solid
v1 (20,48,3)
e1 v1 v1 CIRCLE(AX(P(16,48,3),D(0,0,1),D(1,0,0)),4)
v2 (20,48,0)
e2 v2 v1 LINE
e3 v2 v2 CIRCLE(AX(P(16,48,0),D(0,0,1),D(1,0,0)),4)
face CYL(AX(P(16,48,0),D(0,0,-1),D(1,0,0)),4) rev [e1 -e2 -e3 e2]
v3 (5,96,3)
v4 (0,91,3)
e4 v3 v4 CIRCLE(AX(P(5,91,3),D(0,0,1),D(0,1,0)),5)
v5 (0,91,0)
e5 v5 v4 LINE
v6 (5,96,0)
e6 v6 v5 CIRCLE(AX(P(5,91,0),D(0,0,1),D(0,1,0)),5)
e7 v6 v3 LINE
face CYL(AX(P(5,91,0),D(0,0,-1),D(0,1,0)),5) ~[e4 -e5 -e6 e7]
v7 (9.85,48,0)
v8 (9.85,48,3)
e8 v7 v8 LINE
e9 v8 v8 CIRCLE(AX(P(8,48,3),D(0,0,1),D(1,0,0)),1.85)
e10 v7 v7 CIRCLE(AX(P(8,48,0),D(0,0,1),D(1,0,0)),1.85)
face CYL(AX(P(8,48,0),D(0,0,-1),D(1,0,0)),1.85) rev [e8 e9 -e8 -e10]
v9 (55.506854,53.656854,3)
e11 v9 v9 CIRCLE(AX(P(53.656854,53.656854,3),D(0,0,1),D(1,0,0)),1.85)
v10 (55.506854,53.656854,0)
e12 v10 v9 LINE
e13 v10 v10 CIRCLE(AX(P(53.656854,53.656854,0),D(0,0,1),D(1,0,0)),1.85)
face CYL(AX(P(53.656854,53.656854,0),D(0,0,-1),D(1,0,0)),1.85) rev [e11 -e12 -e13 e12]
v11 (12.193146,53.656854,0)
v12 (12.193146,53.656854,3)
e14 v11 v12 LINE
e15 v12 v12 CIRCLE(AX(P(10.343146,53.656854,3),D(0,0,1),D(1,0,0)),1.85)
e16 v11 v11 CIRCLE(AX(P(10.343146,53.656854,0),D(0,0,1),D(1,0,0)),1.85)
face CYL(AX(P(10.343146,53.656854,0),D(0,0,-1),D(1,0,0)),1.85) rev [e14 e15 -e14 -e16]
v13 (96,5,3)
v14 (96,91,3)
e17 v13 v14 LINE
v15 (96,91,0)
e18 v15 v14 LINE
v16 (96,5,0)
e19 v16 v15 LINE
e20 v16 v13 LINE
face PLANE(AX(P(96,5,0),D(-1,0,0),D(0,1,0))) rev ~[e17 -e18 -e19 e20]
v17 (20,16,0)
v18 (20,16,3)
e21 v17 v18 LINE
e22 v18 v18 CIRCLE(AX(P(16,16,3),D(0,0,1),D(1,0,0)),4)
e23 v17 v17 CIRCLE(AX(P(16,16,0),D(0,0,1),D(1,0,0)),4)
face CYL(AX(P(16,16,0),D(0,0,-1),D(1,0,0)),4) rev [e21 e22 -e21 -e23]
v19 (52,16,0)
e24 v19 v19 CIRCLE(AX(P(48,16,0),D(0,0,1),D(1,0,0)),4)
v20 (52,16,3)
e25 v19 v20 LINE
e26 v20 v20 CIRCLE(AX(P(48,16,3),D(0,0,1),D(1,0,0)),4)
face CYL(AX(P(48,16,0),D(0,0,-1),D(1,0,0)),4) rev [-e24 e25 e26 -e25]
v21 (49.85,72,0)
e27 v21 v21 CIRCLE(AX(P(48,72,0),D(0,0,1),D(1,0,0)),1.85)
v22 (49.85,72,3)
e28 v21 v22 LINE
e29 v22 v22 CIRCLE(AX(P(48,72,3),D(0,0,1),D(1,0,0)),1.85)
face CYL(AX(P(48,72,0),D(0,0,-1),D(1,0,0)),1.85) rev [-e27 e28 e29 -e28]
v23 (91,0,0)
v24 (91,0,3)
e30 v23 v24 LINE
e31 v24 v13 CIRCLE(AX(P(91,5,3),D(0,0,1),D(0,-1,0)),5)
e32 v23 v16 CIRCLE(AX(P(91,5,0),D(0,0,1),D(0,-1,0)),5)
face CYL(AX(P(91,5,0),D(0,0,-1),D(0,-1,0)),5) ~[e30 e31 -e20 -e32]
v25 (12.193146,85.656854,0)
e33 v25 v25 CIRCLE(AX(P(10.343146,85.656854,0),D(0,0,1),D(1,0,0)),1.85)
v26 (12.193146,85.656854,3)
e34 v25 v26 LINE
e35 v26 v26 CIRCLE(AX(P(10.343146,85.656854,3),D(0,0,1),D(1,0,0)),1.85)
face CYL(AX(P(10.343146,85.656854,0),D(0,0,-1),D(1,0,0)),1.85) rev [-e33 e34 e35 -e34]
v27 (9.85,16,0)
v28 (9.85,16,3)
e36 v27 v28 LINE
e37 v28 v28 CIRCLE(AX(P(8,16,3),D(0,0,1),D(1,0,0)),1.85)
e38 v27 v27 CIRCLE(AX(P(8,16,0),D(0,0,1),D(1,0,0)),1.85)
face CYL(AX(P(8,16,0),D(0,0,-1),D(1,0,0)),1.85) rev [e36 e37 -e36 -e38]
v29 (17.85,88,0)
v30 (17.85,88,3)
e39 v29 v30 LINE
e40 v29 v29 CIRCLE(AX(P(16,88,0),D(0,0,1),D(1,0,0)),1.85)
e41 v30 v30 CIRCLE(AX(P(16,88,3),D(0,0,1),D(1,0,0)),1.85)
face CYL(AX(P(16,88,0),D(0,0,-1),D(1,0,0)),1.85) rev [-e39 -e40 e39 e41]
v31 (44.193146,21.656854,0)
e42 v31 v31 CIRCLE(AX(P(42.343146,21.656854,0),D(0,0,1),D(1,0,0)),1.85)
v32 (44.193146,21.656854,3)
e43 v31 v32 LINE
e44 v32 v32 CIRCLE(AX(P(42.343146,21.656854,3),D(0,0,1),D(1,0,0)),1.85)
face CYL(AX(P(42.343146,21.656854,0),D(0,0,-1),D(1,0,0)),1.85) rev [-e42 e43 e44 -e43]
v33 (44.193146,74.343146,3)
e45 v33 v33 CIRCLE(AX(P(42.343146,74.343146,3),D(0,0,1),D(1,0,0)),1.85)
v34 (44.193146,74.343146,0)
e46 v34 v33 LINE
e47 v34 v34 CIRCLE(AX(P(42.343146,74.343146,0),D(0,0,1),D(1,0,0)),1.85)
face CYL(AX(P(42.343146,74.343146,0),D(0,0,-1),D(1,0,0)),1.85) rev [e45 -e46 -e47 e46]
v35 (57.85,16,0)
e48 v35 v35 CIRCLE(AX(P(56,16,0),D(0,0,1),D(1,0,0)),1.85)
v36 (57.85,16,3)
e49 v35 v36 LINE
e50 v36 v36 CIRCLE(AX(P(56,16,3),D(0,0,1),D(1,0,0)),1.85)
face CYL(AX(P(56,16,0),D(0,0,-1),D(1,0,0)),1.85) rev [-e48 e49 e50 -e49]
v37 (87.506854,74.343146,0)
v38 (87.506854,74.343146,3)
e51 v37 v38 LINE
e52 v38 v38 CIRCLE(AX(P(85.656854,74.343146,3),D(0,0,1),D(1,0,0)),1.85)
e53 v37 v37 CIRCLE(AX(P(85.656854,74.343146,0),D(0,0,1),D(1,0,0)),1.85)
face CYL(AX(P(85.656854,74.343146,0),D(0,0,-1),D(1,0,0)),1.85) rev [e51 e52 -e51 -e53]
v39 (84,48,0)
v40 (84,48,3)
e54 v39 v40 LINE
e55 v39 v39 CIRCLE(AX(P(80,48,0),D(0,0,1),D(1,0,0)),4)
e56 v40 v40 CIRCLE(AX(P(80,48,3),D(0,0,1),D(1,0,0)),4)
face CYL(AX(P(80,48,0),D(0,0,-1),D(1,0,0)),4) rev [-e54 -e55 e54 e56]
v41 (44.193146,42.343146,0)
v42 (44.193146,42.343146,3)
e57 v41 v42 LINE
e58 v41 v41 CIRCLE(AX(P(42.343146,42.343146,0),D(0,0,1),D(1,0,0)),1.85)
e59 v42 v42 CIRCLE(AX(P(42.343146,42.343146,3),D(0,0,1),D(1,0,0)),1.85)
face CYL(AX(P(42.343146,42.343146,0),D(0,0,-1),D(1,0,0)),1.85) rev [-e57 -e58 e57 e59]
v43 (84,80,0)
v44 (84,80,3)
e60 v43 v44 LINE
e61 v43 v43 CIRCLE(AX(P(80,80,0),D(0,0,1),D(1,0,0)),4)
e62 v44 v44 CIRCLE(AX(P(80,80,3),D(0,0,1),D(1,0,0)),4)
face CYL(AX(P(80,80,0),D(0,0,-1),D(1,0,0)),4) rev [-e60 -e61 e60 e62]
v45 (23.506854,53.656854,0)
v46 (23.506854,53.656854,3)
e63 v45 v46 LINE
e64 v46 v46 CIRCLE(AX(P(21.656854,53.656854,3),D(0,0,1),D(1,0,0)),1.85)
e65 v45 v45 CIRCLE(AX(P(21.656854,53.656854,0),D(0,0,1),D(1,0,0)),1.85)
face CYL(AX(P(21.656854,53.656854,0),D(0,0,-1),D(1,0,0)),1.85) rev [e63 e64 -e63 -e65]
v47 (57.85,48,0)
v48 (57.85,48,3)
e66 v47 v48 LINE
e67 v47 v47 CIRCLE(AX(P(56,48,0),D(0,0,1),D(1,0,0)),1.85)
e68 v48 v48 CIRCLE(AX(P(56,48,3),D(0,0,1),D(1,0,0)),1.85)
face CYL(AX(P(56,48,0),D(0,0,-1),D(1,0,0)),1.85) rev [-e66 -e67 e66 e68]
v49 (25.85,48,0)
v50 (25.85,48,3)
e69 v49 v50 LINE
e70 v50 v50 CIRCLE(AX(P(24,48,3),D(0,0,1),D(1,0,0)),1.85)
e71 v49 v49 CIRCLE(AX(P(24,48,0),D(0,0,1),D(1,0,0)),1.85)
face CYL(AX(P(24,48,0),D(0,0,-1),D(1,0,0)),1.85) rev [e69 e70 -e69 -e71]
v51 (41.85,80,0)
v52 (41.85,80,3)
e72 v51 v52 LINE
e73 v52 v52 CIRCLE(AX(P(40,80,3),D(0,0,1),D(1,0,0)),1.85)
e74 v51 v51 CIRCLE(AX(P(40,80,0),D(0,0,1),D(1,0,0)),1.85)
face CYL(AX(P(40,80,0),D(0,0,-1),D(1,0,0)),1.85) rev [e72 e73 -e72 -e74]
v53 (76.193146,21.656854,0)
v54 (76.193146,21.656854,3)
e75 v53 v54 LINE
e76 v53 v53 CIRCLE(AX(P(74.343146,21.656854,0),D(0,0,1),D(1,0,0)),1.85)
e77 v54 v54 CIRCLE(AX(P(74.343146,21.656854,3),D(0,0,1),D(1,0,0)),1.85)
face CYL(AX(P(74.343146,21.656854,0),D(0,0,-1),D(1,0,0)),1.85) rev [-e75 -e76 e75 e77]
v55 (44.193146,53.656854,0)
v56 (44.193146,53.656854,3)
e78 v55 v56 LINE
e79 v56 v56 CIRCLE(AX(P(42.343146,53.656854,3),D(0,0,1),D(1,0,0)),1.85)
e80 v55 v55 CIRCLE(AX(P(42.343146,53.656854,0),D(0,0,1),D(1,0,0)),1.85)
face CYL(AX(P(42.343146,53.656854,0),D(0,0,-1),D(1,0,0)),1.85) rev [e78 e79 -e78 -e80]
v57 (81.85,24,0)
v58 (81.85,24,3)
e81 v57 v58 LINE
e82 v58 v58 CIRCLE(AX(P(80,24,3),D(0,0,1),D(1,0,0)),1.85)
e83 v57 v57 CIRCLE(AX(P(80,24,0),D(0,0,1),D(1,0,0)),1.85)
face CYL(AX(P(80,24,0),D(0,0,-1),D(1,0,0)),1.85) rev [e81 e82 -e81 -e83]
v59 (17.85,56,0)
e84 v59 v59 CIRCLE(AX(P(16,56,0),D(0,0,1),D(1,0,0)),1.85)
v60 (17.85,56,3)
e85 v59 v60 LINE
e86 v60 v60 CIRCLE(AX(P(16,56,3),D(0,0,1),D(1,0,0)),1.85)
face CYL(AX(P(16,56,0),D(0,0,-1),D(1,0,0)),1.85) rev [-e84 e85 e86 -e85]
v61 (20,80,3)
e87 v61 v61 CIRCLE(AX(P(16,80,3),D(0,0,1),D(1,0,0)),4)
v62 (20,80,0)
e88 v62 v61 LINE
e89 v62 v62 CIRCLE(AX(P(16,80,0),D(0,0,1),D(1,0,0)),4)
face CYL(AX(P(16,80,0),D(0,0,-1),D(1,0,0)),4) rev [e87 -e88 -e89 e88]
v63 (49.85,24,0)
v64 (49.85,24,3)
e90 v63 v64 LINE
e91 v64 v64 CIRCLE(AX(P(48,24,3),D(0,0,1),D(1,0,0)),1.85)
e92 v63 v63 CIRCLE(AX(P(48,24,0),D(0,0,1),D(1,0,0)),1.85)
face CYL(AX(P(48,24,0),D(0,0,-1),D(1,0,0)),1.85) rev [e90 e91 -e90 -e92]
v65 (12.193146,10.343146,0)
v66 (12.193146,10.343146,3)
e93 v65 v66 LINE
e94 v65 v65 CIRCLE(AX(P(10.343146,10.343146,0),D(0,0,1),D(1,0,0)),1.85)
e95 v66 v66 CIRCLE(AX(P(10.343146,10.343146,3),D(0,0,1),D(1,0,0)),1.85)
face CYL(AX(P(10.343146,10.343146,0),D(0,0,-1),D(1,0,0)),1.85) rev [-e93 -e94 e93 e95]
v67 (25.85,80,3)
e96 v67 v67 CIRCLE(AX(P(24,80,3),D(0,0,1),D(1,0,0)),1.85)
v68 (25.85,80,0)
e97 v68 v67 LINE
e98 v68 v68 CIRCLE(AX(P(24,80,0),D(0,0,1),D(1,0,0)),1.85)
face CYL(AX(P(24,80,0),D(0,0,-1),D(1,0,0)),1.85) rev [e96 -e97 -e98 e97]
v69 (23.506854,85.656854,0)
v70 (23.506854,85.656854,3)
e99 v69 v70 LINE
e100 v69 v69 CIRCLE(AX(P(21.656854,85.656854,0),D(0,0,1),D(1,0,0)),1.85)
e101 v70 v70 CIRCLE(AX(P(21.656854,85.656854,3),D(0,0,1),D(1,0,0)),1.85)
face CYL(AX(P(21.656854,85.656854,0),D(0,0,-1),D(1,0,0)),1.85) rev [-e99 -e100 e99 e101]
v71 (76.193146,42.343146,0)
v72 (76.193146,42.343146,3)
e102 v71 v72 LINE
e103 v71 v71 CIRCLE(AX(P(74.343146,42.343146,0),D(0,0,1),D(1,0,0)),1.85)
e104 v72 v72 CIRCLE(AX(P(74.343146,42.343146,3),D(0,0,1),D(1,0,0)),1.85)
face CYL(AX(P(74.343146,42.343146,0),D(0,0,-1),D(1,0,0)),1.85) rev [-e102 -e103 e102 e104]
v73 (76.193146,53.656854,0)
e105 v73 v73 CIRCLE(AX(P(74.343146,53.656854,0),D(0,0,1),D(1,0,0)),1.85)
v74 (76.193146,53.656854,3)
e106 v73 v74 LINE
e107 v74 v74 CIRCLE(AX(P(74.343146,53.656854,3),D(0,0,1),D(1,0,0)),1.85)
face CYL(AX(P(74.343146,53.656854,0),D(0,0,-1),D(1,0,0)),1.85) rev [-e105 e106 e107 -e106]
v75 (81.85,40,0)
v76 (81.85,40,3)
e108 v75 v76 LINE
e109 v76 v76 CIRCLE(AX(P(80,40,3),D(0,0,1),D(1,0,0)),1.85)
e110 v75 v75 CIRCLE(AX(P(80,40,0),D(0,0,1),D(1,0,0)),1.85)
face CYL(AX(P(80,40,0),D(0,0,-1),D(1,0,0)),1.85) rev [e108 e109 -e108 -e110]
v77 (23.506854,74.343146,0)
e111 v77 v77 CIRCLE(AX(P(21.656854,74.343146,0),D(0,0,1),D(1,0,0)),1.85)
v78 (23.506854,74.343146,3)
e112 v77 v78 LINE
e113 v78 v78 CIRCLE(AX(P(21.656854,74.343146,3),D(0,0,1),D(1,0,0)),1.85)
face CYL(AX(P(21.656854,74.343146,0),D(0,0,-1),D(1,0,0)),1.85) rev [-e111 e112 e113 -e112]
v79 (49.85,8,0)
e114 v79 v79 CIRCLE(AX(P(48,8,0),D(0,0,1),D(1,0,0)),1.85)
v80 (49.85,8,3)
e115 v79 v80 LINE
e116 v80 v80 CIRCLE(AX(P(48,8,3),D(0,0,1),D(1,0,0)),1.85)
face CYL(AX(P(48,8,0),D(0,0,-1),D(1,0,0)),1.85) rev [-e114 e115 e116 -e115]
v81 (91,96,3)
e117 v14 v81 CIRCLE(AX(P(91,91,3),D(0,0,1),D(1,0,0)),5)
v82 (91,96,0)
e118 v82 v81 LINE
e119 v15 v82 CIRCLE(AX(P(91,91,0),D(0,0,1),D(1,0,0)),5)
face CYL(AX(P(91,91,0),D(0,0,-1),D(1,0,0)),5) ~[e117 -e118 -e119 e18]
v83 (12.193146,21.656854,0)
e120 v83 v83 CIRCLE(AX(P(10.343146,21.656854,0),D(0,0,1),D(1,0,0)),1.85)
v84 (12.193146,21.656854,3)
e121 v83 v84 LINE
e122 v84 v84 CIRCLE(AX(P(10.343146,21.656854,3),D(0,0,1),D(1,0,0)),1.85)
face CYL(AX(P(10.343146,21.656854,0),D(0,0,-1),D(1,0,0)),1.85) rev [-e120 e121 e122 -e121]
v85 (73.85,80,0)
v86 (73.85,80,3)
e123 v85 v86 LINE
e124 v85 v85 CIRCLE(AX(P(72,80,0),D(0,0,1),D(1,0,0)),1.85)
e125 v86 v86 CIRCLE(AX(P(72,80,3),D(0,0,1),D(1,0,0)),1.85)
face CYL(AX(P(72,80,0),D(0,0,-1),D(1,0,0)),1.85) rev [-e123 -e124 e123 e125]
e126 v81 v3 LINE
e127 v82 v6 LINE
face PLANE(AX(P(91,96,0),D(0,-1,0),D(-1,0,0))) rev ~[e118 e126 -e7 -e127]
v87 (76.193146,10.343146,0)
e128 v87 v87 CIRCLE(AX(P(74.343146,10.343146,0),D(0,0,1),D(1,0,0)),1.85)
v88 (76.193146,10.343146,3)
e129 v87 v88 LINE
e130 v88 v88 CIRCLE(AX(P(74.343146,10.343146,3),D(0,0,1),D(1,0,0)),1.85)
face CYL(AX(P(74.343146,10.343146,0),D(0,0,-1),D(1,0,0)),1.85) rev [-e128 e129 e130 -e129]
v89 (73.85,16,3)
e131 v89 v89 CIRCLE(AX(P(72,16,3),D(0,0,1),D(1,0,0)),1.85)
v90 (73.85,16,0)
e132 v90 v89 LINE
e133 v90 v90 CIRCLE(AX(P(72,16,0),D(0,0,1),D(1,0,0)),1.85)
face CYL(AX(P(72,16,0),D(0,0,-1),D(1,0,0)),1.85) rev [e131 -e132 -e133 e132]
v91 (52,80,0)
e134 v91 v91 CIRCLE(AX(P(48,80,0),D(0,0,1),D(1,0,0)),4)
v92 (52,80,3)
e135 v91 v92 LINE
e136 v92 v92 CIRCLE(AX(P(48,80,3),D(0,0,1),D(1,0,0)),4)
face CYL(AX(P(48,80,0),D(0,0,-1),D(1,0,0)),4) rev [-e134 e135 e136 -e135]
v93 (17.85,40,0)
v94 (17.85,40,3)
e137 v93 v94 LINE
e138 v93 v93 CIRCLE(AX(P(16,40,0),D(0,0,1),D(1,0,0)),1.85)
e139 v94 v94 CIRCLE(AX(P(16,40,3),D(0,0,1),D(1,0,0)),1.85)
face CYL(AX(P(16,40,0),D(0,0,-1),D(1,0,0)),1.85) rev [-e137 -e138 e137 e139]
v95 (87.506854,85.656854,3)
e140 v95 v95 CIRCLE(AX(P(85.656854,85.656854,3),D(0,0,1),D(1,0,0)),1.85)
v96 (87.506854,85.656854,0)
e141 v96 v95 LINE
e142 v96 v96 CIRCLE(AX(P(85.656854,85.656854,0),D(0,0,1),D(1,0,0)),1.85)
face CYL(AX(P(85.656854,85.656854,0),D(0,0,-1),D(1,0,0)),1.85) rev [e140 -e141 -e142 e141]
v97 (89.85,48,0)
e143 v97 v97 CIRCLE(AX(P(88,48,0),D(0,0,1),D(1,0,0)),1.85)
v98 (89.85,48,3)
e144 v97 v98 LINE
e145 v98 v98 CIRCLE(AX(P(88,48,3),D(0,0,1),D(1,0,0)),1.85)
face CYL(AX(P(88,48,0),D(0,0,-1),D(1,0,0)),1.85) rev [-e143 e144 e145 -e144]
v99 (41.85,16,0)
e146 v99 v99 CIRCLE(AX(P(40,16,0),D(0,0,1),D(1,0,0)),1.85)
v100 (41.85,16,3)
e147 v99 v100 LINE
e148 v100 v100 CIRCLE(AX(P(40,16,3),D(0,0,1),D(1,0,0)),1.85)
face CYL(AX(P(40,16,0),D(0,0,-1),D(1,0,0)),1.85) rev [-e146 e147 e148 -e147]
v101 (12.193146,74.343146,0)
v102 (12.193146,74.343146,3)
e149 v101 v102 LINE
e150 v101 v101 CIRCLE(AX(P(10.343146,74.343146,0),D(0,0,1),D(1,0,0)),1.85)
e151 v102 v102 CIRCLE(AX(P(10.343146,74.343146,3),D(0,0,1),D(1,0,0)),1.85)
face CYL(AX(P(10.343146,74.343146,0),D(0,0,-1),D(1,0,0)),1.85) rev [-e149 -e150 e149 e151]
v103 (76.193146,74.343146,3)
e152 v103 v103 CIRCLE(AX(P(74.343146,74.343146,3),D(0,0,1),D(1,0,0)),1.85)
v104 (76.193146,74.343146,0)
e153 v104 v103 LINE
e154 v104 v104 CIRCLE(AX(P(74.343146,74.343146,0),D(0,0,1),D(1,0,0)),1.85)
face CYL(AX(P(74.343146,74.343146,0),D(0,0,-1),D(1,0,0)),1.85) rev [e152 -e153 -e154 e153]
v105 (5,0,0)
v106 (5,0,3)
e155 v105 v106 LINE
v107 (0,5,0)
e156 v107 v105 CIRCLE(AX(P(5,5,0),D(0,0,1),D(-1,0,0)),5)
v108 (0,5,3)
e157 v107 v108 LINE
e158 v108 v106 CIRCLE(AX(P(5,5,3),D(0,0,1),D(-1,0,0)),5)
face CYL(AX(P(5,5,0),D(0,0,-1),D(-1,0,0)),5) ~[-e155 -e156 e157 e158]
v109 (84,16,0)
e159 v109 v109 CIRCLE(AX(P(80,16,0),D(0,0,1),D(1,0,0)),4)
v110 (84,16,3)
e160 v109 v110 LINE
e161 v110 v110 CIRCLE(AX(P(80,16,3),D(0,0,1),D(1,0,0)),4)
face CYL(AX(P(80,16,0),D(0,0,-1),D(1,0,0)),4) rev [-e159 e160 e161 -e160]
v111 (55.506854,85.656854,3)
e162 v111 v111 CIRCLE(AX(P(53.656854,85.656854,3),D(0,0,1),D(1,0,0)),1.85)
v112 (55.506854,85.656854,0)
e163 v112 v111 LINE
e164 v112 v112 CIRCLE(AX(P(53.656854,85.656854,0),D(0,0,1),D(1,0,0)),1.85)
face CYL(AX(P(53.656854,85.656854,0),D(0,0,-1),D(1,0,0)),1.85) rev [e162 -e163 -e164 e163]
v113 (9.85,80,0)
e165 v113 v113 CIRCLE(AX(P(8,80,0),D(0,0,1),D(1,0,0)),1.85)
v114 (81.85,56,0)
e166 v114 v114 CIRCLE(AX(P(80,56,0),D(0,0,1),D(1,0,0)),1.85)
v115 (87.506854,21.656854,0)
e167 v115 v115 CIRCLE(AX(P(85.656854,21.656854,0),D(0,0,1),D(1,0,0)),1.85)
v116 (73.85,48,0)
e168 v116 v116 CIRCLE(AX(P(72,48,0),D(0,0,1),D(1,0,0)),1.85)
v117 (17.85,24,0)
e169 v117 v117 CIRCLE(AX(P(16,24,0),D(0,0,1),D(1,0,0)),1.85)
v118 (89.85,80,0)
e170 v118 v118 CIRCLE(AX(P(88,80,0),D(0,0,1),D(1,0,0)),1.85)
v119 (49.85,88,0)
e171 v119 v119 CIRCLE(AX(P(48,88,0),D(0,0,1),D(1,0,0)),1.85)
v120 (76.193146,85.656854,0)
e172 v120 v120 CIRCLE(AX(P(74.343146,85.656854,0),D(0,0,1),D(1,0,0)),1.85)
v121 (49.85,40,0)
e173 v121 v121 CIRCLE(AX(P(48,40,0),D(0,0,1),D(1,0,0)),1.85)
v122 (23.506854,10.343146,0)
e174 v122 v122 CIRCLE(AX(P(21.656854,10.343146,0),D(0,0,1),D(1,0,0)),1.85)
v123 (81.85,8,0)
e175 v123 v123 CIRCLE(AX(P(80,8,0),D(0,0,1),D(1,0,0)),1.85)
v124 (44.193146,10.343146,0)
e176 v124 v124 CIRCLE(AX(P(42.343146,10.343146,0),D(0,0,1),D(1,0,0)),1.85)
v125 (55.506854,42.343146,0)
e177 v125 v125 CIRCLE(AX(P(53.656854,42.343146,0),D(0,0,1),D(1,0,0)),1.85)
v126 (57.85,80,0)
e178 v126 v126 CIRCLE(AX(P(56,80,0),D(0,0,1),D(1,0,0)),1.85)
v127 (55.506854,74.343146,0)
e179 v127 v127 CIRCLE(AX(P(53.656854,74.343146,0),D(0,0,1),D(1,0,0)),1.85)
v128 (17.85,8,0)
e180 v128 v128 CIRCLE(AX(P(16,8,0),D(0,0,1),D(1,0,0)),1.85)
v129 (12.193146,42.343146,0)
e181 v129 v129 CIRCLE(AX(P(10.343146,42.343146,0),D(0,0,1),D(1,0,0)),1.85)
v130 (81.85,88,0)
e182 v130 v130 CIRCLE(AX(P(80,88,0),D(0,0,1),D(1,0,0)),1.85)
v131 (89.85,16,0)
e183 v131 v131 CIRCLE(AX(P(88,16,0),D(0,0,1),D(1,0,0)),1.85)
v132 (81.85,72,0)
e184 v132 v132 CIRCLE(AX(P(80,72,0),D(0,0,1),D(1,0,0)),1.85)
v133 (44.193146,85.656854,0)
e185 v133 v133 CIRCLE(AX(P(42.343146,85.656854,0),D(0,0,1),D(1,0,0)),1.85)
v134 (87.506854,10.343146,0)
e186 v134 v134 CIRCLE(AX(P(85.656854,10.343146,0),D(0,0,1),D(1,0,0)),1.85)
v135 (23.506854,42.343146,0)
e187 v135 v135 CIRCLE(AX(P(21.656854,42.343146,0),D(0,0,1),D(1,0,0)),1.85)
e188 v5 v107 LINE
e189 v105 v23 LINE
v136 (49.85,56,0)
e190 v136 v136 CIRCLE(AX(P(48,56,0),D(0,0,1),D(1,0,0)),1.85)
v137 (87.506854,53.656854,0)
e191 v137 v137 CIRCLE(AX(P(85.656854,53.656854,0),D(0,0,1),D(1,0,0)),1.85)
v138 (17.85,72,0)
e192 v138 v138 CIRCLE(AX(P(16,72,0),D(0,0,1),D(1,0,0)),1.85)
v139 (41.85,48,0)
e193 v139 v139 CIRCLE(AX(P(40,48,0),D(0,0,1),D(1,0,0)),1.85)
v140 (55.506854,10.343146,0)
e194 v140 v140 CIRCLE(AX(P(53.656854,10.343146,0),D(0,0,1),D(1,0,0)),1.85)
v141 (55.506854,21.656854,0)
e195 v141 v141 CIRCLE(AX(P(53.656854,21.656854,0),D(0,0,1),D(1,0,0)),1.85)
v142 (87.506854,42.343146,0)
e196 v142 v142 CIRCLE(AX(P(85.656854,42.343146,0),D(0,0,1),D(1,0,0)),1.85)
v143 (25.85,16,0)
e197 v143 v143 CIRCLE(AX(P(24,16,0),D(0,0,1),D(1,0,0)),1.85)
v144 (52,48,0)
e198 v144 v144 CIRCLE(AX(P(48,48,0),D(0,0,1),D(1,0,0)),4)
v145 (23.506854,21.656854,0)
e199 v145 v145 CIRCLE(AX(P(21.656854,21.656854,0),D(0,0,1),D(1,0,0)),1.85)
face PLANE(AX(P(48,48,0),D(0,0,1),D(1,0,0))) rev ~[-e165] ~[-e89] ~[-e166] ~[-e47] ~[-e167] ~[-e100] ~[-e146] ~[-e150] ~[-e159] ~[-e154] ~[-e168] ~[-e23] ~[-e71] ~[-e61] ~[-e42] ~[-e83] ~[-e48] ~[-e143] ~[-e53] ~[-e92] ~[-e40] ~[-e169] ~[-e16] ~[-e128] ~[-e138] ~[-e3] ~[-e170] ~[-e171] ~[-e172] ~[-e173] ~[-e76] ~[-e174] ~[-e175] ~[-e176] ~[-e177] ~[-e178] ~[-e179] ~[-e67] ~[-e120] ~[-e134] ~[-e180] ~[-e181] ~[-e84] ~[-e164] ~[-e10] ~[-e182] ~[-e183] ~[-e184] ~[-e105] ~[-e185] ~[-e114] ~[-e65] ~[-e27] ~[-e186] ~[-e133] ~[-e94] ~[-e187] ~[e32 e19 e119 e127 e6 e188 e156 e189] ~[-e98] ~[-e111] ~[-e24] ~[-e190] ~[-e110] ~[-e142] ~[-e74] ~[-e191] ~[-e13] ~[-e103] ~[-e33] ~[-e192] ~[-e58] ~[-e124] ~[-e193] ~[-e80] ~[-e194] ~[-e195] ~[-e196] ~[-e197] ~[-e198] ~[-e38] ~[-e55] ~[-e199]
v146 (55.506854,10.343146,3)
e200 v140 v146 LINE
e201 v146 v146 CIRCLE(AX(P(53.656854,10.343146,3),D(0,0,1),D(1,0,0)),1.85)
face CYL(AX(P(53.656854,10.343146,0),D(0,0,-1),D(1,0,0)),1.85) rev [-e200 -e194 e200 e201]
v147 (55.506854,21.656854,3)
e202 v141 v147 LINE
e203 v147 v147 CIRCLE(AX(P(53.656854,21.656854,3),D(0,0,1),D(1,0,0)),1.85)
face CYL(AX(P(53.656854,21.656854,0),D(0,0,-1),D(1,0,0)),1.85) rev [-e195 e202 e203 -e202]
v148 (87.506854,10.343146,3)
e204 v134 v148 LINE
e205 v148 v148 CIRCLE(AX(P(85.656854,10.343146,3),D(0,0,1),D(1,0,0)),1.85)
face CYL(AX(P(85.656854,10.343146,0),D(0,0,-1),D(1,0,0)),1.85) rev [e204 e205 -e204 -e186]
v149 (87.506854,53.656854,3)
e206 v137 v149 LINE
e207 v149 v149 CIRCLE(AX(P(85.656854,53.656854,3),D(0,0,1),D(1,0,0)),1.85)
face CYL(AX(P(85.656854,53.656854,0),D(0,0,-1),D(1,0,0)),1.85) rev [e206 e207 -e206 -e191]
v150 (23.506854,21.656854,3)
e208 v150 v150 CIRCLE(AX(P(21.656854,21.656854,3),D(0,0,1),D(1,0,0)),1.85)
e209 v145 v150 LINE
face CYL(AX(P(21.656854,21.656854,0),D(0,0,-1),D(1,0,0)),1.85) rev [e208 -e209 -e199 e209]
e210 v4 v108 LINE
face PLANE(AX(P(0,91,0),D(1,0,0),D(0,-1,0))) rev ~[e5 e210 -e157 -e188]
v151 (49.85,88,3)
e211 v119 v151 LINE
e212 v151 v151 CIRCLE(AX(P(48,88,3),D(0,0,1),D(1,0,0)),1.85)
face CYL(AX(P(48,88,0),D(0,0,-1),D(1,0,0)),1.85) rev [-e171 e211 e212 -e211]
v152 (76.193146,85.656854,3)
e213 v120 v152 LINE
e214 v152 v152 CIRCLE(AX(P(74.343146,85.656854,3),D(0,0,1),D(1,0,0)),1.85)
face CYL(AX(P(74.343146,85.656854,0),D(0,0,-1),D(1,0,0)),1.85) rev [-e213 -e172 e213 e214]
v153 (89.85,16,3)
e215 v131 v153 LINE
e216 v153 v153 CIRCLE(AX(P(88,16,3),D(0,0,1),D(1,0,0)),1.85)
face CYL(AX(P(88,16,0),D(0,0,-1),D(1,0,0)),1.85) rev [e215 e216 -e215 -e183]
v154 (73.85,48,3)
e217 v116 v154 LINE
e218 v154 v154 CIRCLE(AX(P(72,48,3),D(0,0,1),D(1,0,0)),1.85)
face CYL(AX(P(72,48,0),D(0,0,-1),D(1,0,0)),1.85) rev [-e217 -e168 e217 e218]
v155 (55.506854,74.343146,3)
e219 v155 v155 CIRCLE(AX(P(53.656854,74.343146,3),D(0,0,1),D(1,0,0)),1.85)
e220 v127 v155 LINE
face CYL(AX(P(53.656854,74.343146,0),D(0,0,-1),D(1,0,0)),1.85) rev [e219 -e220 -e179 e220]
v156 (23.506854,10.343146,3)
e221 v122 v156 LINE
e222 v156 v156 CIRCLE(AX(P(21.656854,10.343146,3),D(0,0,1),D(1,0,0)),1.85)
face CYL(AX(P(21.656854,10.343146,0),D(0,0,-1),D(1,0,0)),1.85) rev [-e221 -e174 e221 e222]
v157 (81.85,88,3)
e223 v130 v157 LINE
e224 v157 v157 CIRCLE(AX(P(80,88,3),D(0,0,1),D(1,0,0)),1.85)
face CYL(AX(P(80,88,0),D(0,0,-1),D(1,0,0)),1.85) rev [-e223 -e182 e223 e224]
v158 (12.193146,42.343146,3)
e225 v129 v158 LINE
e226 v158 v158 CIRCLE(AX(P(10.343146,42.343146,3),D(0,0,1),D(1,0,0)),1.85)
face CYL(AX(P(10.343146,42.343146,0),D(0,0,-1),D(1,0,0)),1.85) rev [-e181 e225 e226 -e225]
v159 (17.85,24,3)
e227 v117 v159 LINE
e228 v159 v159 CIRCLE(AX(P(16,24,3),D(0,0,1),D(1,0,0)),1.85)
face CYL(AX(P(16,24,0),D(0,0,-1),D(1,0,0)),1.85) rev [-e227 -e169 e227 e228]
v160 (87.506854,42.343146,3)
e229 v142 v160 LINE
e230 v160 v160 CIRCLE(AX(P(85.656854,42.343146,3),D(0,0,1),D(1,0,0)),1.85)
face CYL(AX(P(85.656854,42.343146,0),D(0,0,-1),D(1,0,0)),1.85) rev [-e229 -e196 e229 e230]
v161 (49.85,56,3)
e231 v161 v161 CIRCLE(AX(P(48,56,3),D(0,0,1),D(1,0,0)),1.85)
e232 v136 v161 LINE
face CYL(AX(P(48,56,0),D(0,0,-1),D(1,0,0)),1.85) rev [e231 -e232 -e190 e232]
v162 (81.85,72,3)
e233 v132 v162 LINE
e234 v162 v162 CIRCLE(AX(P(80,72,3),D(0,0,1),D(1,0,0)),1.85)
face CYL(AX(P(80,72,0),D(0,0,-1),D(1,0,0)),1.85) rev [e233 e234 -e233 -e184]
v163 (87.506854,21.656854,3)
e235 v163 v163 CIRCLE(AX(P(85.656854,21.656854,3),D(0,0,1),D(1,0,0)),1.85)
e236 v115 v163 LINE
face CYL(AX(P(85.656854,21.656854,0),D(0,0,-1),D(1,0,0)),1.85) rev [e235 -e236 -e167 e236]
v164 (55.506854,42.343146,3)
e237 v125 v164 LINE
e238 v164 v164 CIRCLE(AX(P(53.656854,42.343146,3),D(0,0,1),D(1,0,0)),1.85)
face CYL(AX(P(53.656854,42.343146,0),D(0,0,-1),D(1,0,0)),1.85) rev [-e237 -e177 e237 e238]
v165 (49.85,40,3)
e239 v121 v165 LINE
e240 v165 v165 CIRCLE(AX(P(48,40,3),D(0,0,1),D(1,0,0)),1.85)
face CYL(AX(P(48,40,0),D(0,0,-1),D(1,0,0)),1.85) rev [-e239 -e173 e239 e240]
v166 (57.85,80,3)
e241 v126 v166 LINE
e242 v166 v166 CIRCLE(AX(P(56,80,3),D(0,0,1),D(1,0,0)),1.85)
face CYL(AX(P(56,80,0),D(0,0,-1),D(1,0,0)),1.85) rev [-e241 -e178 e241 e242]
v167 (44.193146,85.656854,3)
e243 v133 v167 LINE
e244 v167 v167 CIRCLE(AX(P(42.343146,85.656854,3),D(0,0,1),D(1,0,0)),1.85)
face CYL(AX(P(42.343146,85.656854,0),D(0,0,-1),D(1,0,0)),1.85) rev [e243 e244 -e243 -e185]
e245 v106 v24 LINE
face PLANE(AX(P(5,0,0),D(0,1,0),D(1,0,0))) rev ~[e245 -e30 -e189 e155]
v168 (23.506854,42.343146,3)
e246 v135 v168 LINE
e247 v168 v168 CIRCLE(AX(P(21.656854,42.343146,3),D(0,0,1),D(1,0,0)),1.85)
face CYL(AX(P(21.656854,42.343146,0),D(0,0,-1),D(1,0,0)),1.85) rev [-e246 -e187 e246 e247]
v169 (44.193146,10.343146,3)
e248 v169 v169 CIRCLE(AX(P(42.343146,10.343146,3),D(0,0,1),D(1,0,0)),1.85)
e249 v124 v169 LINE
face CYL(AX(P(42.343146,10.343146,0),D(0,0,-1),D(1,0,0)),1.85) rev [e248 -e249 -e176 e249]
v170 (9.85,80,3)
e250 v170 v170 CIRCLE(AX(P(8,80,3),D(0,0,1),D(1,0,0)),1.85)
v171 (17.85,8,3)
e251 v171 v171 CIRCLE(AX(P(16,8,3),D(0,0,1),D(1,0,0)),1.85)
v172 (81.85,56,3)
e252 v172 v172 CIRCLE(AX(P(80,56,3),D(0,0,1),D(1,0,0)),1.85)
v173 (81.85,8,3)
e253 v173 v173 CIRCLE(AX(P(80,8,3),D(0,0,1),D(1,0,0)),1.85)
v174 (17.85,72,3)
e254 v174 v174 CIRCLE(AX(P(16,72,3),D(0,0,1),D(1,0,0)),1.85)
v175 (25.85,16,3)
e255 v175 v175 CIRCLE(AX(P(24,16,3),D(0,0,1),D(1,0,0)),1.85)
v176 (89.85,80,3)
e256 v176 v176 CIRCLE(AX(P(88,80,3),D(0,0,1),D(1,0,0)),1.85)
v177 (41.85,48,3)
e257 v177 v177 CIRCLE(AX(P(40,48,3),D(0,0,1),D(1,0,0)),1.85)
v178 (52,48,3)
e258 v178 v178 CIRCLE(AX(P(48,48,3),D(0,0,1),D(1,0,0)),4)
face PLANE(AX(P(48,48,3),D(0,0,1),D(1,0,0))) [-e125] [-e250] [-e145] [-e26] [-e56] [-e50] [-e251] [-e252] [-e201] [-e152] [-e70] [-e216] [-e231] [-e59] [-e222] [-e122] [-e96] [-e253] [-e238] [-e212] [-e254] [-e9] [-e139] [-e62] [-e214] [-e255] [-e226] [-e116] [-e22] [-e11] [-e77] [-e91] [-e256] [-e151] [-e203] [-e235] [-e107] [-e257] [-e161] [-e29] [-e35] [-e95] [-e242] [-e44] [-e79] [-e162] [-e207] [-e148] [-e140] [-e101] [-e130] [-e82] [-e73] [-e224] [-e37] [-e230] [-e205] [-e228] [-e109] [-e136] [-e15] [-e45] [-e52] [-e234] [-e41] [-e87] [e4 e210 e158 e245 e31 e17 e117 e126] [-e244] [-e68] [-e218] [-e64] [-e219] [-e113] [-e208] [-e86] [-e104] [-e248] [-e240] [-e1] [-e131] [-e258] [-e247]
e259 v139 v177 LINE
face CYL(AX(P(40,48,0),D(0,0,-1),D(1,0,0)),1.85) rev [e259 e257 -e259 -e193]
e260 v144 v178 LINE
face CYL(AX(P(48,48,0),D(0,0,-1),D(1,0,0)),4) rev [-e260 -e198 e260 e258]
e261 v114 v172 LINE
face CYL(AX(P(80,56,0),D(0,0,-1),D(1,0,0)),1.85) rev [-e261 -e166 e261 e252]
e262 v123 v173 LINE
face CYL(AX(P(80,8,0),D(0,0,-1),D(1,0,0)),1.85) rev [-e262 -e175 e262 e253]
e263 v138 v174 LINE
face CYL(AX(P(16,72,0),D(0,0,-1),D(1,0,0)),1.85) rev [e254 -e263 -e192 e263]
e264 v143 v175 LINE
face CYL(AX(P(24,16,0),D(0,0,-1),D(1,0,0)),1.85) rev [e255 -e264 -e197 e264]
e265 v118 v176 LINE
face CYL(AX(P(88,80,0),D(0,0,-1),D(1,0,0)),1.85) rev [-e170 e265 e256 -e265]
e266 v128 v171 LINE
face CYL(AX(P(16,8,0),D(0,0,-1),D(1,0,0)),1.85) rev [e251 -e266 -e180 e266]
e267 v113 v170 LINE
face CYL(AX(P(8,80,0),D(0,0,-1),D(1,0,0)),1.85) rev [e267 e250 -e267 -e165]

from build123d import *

# Parameters (mm, degrees)
F0_R     = 1.85
F0_R_2   = 4
F2_DEPTH = 3


with BuildPart() as f2:
    # F0 (on Top) → F2 (new body)
    with BuildSketch(Plane.XY):
        with BuildLine():
            Line((91, 96), (5, 96))
            ThreePointArc((5, 96), (1.4644660941, 94.5355339059), (0, 91))
            Line((0, 91), (0, 5))
            ThreePointArc((0, 5), (1.4644660941, 1.4644660941), (5, 0))
            Line((5, 0), (91, 0))
            ThreePointArc((91, 0), (94.5355339059, 1.4644660941), (96, 5))
            Line((96, 5), (96, 91))
            ThreePointArc((96, 91), (94.5355339059, 94.5355339059), (91, 96))
        make_face()
        with Locations((10.3431457505, 10.3431457505)):
            Circle(F0_R, mode=Mode.SUBTRACT)
        with Locations((16, 8)):
            Circle(F0_R, mode=Mode.SUBTRACT)
        with Locations((21.6568542495, 10.3431457505)):
            Circle(F0_R, mode=Mode.SUBTRACT)
        with Locations((8, 16)):
            Circle(F0_R, mode=Mode.SUBTRACT)
        with Locations((10.3431457505, 21.6568542495)):
            Circle(F0_R, mode=Mode.SUBTRACT)
        with Locations((16, 16)):
            Circle(F0_R_2, mode=Mode.SUBTRACT)
        with Locations((21.6568542495, 21.6568542495)):
            Circle(F0_R, mode=Mode.SUBTRACT)
        with Locations((42.3431457505, 10.3431457505)):
            Circle(F0_R, mode=Mode.SUBTRACT)
        with Locations((24, 16)):
            Circle(F0_R, mode=Mode.SUBTRACT)
        with Locations((40, 16)):
            Circle(F0_R, mode=Mode.SUBTRACT)
        with Locations((42.3431457505, 21.6568542495)):
            Circle(F0_R, mode=Mode.SUBTRACT)
        with Locations((16, 24)):
            Circle(F0_R, mode=Mode.SUBTRACT)
        with Locations((10.3431457505, 42.3431457505)):
            Circle(F0_R, mode=Mode.SUBTRACT)
        with Locations((16, 40)):
            Circle(F0_R, mode=Mode.SUBTRACT)
        with Locations((21.6568542495, 42.3431457505)):
            Circle(F0_R, mode=Mode.SUBTRACT)
        with Locations((42.3431457505, 42.3431457505)):
            Circle(F0_R, mode=Mode.SUBTRACT)
        with Locations((48, 8)):
            Circle(F0_R, mode=Mode.SUBTRACT)
        with Locations((53.6568542495, 10.3431457505)):
            Circle(F0_R, mode=Mode.SUBTRACT)
        with Locations((48, 16)):
            Circle(F0_R_2, mode=Mode.SUBTRACT)
        with Locations((56, 16)):
            Circle(F0_R, mode=Mode.SUBTRACT)
        with Locations((53.6568542495, 21.6568542495)):
            Circle(F0_R, mode=Mode.SUBTRACT)
        with Locations((74.3431457505, 10.3431457505)):
            Circle(F0_R, mode=Mode.SUBTRACT)
        with Locations((80, 8)):
            Circle(F0_R, mode=Mode.SUBTRACT)
        with Locations((85.6568542495, 10.3431457505)):
            Circle(F0_R, mode=Mode.SUBTRACT)
        with Locations((72, 16)):
            Circle(F0_R, mode=Mode.SUBTRACT)
        with Locations((80, 16)):
            Circle(F0_R_2, mode=Mode.SUBTRACT)
        with Locations((74.3431457505, 21.6568542495)):
            Circle(F0_R, mode=Mode.SUBTRACT)
        with Locations((88, 16)):
            Circle(F0_R, mode=Mode.SUBTRACT)
        with Locations((85.6568542495, 21.6568542495)):
            Circle(F0_R, mode=Mode.SUBTRACT)
        with Locations((48, 24)):
            Circle(F0_R, mode=Mode.SUBTRACT)
        with Locations((48, 40)):
            Circle(F0_R, mode=Mode.SUBTRACT)
        with Locations((53.6568542495, 42.3431457505)):
            Circle(F0_R, mode=Mode.SUBTRACT)
        with Locations((80, 24)):
            Circle(F0_R, mode=Mode.SUBTRACT)
        with Locations((80, 40)):
            Circle(F0_R, mode=Mode.SUBTRACT)
        with Locations((74.3431457505, 42.3431457505)):
            Circle(F0_R, mode=Mode.SUBTRACT)
        with Locations((85.6568542495, 42.3431457505)):
            Circle(F0_R, mode=Mode.SUBTRACT)
        with Locations((8, 48)):
            Circle(F0_R, mode=Mode.SUBTRACT)
        with Locations((10.3431457505, 53.6568542495)):
            Circle(F0_R, mode=Mode.SUBTRACT)
        with Locations((16, 48)):
            Circle(F0_R_2, mode=Mode.SUBTRACT)
        with Locations((21.6568542495, 53.6568542495)):
            Circle(F0_R, mode=Mode.SUBTRACT)
        with Locations((16, 56)):
            Circle(F0_R, mode=Mode.SUBTRACT)
        with Locations((24, 48)):
            Circle(F0_R, mode=Mode.SUBTRACT)
        with Locations((40, 48)):
            Circle(F0_R, mode=Mode.SUBTRACT)
        with Locations((42.3431457505, 53.6568542495)):
            Circle(F0_R, mode=Mode.SUBTRACT)
        with Locations((10.3431457505, 74.3431457505)):
            Circle(F0_R, mode=Mode.SUBTRACT)
        with Locations((8, 80)):
            Circle(F0_R, mode=Mode.SUBTRACT)
        with Locations((16, 72)):
            Circle(F0_R, mode=Mode.SUBTRACT)
        with Locations((21.6568542495, 74.3431457505)):
            Circle(F0_R, mode=Mode.SUBTRACT)
        with Locations((16, 80)):
            Circle(F0_R_2, mode=Mode.SUBTRACT)
        with Locations((10.3431457505, 85.6568542495)):
            Circle(F0_R, mode=Mode.SUBTRACT)
        with Locations((16, 88)):
            Circle(F0_R, mode=Mode.SUBTRACT)
        with Locations((21.6568542495, 85.6568542495)):
            Circle(F0_R, mode=Mode.SUBTRACT)
        with Locations((24, 80)):
            Circle(F0_R, mode=Mode.SUBTRACT)
        with Locations((42.3431457505, 74.3431457505)):
            Circle(F0_R, mode=Mode.SUBTRACT)
        with Locations((40, 80)):
            Circle(F0_R, mode=Mode.SUBTRACT)
        with Locations((42.3431457505, 85.6568542495)):
            Circle(F0_R, mode=Mode.SUBTRACT)
        with Locations((48, 48)):
            Circle(F0_R_2, mode=Mode.SUBTRACT)
        with Locations((53.6568542495, 53.6568542495)):
            Circle(F0_R, mode=Mode.SUBTRACT)
        with Locations((56, 48)):
            Circle(F0_R, mode=Mode.SUBTRACT)
        with Locations((48, 56)):
            Circle(F0_R, mode=Mode.SUBTRACT)
        with Locations((72, 48)):
            Circle(F0_R, mode=Mode.SUBTRACT)
        with Locations((74.3431457505, 53.6568542495)):
            Circle(F0_R, mode=Mode.SUBTRACT)
        with Locations((80, 48)):
            Circle(F0_R_2, mode=Mode.SUBTRACT)
        with Locations((80, 56)):
            Circle(F0_R, mode=Mode.SUBTRACT)
        with Locations((88, 48)):
            Circle(F0_R, mode=Mode.SUBTRACT)
        with Locations((85.6568542495, 53.6568542495)):
            Circle(F0_R, mode=Mode.SUBTRACT)
        with Locations((48, 72)):
            Circle(F0_R, mode=Mode.SUBTRACT)
        with Locations((53.6568542495, 74.3431457505)):
            Circle(F0_R, mode=Mode.SUBTRACT)
        with Locations((48, 80)):
            Circle(F0_R_2, mode=Mode.SUBTRACT)
        with Locations((56, 80)):
            Circle(F0_R, mode=Mode.SUBTRACT)
        with Locations((53.6568542495, 85.6568542495)):
            Circle(F0_R, mode=Mode.SUBTRACT)
        with Locations((48, 88)):
            Circle(F0_R, mode=Mode.SUBTRACT)
        with Locations((74.3431457505, 74.3431457505)):
            Circle(F0_R, mode=Mode.SUBTRACT)
        with Locations((80, 72)):
            Circle(F0_R, mode=Mode.SUBTRACT)
        with Locations((72, 80)):
            Circle(F0_R, mode=Mode.SUBTRACT)
        with Locations((80, 80)):
            Circle(F0_R_2, mode=Mode.SUBTRACT)
        with Locations((85.6568542495, 74.3431457505)):
            Circle(F0_R, mode=Mode.SUBTRACT)
        with Locations((88, 80)):
            Circle(F0_R, mode=Mode.SUBTRACT)
        with Locations((74.3431457505, 85.6568542495)):
            Circle(F0_R, mode=Mode.SUBTRACT)
        with Locations((80, 88)):
            Circle(F0_R, mode=Mode.SUBTRACT)
        with Locations((85.6568542495, 85.6568542495)):
            Circle(F0_R, mode=Mode.SUBTRACT)
    extrude(amount=F2_DEPTH)


solid = f2.part
